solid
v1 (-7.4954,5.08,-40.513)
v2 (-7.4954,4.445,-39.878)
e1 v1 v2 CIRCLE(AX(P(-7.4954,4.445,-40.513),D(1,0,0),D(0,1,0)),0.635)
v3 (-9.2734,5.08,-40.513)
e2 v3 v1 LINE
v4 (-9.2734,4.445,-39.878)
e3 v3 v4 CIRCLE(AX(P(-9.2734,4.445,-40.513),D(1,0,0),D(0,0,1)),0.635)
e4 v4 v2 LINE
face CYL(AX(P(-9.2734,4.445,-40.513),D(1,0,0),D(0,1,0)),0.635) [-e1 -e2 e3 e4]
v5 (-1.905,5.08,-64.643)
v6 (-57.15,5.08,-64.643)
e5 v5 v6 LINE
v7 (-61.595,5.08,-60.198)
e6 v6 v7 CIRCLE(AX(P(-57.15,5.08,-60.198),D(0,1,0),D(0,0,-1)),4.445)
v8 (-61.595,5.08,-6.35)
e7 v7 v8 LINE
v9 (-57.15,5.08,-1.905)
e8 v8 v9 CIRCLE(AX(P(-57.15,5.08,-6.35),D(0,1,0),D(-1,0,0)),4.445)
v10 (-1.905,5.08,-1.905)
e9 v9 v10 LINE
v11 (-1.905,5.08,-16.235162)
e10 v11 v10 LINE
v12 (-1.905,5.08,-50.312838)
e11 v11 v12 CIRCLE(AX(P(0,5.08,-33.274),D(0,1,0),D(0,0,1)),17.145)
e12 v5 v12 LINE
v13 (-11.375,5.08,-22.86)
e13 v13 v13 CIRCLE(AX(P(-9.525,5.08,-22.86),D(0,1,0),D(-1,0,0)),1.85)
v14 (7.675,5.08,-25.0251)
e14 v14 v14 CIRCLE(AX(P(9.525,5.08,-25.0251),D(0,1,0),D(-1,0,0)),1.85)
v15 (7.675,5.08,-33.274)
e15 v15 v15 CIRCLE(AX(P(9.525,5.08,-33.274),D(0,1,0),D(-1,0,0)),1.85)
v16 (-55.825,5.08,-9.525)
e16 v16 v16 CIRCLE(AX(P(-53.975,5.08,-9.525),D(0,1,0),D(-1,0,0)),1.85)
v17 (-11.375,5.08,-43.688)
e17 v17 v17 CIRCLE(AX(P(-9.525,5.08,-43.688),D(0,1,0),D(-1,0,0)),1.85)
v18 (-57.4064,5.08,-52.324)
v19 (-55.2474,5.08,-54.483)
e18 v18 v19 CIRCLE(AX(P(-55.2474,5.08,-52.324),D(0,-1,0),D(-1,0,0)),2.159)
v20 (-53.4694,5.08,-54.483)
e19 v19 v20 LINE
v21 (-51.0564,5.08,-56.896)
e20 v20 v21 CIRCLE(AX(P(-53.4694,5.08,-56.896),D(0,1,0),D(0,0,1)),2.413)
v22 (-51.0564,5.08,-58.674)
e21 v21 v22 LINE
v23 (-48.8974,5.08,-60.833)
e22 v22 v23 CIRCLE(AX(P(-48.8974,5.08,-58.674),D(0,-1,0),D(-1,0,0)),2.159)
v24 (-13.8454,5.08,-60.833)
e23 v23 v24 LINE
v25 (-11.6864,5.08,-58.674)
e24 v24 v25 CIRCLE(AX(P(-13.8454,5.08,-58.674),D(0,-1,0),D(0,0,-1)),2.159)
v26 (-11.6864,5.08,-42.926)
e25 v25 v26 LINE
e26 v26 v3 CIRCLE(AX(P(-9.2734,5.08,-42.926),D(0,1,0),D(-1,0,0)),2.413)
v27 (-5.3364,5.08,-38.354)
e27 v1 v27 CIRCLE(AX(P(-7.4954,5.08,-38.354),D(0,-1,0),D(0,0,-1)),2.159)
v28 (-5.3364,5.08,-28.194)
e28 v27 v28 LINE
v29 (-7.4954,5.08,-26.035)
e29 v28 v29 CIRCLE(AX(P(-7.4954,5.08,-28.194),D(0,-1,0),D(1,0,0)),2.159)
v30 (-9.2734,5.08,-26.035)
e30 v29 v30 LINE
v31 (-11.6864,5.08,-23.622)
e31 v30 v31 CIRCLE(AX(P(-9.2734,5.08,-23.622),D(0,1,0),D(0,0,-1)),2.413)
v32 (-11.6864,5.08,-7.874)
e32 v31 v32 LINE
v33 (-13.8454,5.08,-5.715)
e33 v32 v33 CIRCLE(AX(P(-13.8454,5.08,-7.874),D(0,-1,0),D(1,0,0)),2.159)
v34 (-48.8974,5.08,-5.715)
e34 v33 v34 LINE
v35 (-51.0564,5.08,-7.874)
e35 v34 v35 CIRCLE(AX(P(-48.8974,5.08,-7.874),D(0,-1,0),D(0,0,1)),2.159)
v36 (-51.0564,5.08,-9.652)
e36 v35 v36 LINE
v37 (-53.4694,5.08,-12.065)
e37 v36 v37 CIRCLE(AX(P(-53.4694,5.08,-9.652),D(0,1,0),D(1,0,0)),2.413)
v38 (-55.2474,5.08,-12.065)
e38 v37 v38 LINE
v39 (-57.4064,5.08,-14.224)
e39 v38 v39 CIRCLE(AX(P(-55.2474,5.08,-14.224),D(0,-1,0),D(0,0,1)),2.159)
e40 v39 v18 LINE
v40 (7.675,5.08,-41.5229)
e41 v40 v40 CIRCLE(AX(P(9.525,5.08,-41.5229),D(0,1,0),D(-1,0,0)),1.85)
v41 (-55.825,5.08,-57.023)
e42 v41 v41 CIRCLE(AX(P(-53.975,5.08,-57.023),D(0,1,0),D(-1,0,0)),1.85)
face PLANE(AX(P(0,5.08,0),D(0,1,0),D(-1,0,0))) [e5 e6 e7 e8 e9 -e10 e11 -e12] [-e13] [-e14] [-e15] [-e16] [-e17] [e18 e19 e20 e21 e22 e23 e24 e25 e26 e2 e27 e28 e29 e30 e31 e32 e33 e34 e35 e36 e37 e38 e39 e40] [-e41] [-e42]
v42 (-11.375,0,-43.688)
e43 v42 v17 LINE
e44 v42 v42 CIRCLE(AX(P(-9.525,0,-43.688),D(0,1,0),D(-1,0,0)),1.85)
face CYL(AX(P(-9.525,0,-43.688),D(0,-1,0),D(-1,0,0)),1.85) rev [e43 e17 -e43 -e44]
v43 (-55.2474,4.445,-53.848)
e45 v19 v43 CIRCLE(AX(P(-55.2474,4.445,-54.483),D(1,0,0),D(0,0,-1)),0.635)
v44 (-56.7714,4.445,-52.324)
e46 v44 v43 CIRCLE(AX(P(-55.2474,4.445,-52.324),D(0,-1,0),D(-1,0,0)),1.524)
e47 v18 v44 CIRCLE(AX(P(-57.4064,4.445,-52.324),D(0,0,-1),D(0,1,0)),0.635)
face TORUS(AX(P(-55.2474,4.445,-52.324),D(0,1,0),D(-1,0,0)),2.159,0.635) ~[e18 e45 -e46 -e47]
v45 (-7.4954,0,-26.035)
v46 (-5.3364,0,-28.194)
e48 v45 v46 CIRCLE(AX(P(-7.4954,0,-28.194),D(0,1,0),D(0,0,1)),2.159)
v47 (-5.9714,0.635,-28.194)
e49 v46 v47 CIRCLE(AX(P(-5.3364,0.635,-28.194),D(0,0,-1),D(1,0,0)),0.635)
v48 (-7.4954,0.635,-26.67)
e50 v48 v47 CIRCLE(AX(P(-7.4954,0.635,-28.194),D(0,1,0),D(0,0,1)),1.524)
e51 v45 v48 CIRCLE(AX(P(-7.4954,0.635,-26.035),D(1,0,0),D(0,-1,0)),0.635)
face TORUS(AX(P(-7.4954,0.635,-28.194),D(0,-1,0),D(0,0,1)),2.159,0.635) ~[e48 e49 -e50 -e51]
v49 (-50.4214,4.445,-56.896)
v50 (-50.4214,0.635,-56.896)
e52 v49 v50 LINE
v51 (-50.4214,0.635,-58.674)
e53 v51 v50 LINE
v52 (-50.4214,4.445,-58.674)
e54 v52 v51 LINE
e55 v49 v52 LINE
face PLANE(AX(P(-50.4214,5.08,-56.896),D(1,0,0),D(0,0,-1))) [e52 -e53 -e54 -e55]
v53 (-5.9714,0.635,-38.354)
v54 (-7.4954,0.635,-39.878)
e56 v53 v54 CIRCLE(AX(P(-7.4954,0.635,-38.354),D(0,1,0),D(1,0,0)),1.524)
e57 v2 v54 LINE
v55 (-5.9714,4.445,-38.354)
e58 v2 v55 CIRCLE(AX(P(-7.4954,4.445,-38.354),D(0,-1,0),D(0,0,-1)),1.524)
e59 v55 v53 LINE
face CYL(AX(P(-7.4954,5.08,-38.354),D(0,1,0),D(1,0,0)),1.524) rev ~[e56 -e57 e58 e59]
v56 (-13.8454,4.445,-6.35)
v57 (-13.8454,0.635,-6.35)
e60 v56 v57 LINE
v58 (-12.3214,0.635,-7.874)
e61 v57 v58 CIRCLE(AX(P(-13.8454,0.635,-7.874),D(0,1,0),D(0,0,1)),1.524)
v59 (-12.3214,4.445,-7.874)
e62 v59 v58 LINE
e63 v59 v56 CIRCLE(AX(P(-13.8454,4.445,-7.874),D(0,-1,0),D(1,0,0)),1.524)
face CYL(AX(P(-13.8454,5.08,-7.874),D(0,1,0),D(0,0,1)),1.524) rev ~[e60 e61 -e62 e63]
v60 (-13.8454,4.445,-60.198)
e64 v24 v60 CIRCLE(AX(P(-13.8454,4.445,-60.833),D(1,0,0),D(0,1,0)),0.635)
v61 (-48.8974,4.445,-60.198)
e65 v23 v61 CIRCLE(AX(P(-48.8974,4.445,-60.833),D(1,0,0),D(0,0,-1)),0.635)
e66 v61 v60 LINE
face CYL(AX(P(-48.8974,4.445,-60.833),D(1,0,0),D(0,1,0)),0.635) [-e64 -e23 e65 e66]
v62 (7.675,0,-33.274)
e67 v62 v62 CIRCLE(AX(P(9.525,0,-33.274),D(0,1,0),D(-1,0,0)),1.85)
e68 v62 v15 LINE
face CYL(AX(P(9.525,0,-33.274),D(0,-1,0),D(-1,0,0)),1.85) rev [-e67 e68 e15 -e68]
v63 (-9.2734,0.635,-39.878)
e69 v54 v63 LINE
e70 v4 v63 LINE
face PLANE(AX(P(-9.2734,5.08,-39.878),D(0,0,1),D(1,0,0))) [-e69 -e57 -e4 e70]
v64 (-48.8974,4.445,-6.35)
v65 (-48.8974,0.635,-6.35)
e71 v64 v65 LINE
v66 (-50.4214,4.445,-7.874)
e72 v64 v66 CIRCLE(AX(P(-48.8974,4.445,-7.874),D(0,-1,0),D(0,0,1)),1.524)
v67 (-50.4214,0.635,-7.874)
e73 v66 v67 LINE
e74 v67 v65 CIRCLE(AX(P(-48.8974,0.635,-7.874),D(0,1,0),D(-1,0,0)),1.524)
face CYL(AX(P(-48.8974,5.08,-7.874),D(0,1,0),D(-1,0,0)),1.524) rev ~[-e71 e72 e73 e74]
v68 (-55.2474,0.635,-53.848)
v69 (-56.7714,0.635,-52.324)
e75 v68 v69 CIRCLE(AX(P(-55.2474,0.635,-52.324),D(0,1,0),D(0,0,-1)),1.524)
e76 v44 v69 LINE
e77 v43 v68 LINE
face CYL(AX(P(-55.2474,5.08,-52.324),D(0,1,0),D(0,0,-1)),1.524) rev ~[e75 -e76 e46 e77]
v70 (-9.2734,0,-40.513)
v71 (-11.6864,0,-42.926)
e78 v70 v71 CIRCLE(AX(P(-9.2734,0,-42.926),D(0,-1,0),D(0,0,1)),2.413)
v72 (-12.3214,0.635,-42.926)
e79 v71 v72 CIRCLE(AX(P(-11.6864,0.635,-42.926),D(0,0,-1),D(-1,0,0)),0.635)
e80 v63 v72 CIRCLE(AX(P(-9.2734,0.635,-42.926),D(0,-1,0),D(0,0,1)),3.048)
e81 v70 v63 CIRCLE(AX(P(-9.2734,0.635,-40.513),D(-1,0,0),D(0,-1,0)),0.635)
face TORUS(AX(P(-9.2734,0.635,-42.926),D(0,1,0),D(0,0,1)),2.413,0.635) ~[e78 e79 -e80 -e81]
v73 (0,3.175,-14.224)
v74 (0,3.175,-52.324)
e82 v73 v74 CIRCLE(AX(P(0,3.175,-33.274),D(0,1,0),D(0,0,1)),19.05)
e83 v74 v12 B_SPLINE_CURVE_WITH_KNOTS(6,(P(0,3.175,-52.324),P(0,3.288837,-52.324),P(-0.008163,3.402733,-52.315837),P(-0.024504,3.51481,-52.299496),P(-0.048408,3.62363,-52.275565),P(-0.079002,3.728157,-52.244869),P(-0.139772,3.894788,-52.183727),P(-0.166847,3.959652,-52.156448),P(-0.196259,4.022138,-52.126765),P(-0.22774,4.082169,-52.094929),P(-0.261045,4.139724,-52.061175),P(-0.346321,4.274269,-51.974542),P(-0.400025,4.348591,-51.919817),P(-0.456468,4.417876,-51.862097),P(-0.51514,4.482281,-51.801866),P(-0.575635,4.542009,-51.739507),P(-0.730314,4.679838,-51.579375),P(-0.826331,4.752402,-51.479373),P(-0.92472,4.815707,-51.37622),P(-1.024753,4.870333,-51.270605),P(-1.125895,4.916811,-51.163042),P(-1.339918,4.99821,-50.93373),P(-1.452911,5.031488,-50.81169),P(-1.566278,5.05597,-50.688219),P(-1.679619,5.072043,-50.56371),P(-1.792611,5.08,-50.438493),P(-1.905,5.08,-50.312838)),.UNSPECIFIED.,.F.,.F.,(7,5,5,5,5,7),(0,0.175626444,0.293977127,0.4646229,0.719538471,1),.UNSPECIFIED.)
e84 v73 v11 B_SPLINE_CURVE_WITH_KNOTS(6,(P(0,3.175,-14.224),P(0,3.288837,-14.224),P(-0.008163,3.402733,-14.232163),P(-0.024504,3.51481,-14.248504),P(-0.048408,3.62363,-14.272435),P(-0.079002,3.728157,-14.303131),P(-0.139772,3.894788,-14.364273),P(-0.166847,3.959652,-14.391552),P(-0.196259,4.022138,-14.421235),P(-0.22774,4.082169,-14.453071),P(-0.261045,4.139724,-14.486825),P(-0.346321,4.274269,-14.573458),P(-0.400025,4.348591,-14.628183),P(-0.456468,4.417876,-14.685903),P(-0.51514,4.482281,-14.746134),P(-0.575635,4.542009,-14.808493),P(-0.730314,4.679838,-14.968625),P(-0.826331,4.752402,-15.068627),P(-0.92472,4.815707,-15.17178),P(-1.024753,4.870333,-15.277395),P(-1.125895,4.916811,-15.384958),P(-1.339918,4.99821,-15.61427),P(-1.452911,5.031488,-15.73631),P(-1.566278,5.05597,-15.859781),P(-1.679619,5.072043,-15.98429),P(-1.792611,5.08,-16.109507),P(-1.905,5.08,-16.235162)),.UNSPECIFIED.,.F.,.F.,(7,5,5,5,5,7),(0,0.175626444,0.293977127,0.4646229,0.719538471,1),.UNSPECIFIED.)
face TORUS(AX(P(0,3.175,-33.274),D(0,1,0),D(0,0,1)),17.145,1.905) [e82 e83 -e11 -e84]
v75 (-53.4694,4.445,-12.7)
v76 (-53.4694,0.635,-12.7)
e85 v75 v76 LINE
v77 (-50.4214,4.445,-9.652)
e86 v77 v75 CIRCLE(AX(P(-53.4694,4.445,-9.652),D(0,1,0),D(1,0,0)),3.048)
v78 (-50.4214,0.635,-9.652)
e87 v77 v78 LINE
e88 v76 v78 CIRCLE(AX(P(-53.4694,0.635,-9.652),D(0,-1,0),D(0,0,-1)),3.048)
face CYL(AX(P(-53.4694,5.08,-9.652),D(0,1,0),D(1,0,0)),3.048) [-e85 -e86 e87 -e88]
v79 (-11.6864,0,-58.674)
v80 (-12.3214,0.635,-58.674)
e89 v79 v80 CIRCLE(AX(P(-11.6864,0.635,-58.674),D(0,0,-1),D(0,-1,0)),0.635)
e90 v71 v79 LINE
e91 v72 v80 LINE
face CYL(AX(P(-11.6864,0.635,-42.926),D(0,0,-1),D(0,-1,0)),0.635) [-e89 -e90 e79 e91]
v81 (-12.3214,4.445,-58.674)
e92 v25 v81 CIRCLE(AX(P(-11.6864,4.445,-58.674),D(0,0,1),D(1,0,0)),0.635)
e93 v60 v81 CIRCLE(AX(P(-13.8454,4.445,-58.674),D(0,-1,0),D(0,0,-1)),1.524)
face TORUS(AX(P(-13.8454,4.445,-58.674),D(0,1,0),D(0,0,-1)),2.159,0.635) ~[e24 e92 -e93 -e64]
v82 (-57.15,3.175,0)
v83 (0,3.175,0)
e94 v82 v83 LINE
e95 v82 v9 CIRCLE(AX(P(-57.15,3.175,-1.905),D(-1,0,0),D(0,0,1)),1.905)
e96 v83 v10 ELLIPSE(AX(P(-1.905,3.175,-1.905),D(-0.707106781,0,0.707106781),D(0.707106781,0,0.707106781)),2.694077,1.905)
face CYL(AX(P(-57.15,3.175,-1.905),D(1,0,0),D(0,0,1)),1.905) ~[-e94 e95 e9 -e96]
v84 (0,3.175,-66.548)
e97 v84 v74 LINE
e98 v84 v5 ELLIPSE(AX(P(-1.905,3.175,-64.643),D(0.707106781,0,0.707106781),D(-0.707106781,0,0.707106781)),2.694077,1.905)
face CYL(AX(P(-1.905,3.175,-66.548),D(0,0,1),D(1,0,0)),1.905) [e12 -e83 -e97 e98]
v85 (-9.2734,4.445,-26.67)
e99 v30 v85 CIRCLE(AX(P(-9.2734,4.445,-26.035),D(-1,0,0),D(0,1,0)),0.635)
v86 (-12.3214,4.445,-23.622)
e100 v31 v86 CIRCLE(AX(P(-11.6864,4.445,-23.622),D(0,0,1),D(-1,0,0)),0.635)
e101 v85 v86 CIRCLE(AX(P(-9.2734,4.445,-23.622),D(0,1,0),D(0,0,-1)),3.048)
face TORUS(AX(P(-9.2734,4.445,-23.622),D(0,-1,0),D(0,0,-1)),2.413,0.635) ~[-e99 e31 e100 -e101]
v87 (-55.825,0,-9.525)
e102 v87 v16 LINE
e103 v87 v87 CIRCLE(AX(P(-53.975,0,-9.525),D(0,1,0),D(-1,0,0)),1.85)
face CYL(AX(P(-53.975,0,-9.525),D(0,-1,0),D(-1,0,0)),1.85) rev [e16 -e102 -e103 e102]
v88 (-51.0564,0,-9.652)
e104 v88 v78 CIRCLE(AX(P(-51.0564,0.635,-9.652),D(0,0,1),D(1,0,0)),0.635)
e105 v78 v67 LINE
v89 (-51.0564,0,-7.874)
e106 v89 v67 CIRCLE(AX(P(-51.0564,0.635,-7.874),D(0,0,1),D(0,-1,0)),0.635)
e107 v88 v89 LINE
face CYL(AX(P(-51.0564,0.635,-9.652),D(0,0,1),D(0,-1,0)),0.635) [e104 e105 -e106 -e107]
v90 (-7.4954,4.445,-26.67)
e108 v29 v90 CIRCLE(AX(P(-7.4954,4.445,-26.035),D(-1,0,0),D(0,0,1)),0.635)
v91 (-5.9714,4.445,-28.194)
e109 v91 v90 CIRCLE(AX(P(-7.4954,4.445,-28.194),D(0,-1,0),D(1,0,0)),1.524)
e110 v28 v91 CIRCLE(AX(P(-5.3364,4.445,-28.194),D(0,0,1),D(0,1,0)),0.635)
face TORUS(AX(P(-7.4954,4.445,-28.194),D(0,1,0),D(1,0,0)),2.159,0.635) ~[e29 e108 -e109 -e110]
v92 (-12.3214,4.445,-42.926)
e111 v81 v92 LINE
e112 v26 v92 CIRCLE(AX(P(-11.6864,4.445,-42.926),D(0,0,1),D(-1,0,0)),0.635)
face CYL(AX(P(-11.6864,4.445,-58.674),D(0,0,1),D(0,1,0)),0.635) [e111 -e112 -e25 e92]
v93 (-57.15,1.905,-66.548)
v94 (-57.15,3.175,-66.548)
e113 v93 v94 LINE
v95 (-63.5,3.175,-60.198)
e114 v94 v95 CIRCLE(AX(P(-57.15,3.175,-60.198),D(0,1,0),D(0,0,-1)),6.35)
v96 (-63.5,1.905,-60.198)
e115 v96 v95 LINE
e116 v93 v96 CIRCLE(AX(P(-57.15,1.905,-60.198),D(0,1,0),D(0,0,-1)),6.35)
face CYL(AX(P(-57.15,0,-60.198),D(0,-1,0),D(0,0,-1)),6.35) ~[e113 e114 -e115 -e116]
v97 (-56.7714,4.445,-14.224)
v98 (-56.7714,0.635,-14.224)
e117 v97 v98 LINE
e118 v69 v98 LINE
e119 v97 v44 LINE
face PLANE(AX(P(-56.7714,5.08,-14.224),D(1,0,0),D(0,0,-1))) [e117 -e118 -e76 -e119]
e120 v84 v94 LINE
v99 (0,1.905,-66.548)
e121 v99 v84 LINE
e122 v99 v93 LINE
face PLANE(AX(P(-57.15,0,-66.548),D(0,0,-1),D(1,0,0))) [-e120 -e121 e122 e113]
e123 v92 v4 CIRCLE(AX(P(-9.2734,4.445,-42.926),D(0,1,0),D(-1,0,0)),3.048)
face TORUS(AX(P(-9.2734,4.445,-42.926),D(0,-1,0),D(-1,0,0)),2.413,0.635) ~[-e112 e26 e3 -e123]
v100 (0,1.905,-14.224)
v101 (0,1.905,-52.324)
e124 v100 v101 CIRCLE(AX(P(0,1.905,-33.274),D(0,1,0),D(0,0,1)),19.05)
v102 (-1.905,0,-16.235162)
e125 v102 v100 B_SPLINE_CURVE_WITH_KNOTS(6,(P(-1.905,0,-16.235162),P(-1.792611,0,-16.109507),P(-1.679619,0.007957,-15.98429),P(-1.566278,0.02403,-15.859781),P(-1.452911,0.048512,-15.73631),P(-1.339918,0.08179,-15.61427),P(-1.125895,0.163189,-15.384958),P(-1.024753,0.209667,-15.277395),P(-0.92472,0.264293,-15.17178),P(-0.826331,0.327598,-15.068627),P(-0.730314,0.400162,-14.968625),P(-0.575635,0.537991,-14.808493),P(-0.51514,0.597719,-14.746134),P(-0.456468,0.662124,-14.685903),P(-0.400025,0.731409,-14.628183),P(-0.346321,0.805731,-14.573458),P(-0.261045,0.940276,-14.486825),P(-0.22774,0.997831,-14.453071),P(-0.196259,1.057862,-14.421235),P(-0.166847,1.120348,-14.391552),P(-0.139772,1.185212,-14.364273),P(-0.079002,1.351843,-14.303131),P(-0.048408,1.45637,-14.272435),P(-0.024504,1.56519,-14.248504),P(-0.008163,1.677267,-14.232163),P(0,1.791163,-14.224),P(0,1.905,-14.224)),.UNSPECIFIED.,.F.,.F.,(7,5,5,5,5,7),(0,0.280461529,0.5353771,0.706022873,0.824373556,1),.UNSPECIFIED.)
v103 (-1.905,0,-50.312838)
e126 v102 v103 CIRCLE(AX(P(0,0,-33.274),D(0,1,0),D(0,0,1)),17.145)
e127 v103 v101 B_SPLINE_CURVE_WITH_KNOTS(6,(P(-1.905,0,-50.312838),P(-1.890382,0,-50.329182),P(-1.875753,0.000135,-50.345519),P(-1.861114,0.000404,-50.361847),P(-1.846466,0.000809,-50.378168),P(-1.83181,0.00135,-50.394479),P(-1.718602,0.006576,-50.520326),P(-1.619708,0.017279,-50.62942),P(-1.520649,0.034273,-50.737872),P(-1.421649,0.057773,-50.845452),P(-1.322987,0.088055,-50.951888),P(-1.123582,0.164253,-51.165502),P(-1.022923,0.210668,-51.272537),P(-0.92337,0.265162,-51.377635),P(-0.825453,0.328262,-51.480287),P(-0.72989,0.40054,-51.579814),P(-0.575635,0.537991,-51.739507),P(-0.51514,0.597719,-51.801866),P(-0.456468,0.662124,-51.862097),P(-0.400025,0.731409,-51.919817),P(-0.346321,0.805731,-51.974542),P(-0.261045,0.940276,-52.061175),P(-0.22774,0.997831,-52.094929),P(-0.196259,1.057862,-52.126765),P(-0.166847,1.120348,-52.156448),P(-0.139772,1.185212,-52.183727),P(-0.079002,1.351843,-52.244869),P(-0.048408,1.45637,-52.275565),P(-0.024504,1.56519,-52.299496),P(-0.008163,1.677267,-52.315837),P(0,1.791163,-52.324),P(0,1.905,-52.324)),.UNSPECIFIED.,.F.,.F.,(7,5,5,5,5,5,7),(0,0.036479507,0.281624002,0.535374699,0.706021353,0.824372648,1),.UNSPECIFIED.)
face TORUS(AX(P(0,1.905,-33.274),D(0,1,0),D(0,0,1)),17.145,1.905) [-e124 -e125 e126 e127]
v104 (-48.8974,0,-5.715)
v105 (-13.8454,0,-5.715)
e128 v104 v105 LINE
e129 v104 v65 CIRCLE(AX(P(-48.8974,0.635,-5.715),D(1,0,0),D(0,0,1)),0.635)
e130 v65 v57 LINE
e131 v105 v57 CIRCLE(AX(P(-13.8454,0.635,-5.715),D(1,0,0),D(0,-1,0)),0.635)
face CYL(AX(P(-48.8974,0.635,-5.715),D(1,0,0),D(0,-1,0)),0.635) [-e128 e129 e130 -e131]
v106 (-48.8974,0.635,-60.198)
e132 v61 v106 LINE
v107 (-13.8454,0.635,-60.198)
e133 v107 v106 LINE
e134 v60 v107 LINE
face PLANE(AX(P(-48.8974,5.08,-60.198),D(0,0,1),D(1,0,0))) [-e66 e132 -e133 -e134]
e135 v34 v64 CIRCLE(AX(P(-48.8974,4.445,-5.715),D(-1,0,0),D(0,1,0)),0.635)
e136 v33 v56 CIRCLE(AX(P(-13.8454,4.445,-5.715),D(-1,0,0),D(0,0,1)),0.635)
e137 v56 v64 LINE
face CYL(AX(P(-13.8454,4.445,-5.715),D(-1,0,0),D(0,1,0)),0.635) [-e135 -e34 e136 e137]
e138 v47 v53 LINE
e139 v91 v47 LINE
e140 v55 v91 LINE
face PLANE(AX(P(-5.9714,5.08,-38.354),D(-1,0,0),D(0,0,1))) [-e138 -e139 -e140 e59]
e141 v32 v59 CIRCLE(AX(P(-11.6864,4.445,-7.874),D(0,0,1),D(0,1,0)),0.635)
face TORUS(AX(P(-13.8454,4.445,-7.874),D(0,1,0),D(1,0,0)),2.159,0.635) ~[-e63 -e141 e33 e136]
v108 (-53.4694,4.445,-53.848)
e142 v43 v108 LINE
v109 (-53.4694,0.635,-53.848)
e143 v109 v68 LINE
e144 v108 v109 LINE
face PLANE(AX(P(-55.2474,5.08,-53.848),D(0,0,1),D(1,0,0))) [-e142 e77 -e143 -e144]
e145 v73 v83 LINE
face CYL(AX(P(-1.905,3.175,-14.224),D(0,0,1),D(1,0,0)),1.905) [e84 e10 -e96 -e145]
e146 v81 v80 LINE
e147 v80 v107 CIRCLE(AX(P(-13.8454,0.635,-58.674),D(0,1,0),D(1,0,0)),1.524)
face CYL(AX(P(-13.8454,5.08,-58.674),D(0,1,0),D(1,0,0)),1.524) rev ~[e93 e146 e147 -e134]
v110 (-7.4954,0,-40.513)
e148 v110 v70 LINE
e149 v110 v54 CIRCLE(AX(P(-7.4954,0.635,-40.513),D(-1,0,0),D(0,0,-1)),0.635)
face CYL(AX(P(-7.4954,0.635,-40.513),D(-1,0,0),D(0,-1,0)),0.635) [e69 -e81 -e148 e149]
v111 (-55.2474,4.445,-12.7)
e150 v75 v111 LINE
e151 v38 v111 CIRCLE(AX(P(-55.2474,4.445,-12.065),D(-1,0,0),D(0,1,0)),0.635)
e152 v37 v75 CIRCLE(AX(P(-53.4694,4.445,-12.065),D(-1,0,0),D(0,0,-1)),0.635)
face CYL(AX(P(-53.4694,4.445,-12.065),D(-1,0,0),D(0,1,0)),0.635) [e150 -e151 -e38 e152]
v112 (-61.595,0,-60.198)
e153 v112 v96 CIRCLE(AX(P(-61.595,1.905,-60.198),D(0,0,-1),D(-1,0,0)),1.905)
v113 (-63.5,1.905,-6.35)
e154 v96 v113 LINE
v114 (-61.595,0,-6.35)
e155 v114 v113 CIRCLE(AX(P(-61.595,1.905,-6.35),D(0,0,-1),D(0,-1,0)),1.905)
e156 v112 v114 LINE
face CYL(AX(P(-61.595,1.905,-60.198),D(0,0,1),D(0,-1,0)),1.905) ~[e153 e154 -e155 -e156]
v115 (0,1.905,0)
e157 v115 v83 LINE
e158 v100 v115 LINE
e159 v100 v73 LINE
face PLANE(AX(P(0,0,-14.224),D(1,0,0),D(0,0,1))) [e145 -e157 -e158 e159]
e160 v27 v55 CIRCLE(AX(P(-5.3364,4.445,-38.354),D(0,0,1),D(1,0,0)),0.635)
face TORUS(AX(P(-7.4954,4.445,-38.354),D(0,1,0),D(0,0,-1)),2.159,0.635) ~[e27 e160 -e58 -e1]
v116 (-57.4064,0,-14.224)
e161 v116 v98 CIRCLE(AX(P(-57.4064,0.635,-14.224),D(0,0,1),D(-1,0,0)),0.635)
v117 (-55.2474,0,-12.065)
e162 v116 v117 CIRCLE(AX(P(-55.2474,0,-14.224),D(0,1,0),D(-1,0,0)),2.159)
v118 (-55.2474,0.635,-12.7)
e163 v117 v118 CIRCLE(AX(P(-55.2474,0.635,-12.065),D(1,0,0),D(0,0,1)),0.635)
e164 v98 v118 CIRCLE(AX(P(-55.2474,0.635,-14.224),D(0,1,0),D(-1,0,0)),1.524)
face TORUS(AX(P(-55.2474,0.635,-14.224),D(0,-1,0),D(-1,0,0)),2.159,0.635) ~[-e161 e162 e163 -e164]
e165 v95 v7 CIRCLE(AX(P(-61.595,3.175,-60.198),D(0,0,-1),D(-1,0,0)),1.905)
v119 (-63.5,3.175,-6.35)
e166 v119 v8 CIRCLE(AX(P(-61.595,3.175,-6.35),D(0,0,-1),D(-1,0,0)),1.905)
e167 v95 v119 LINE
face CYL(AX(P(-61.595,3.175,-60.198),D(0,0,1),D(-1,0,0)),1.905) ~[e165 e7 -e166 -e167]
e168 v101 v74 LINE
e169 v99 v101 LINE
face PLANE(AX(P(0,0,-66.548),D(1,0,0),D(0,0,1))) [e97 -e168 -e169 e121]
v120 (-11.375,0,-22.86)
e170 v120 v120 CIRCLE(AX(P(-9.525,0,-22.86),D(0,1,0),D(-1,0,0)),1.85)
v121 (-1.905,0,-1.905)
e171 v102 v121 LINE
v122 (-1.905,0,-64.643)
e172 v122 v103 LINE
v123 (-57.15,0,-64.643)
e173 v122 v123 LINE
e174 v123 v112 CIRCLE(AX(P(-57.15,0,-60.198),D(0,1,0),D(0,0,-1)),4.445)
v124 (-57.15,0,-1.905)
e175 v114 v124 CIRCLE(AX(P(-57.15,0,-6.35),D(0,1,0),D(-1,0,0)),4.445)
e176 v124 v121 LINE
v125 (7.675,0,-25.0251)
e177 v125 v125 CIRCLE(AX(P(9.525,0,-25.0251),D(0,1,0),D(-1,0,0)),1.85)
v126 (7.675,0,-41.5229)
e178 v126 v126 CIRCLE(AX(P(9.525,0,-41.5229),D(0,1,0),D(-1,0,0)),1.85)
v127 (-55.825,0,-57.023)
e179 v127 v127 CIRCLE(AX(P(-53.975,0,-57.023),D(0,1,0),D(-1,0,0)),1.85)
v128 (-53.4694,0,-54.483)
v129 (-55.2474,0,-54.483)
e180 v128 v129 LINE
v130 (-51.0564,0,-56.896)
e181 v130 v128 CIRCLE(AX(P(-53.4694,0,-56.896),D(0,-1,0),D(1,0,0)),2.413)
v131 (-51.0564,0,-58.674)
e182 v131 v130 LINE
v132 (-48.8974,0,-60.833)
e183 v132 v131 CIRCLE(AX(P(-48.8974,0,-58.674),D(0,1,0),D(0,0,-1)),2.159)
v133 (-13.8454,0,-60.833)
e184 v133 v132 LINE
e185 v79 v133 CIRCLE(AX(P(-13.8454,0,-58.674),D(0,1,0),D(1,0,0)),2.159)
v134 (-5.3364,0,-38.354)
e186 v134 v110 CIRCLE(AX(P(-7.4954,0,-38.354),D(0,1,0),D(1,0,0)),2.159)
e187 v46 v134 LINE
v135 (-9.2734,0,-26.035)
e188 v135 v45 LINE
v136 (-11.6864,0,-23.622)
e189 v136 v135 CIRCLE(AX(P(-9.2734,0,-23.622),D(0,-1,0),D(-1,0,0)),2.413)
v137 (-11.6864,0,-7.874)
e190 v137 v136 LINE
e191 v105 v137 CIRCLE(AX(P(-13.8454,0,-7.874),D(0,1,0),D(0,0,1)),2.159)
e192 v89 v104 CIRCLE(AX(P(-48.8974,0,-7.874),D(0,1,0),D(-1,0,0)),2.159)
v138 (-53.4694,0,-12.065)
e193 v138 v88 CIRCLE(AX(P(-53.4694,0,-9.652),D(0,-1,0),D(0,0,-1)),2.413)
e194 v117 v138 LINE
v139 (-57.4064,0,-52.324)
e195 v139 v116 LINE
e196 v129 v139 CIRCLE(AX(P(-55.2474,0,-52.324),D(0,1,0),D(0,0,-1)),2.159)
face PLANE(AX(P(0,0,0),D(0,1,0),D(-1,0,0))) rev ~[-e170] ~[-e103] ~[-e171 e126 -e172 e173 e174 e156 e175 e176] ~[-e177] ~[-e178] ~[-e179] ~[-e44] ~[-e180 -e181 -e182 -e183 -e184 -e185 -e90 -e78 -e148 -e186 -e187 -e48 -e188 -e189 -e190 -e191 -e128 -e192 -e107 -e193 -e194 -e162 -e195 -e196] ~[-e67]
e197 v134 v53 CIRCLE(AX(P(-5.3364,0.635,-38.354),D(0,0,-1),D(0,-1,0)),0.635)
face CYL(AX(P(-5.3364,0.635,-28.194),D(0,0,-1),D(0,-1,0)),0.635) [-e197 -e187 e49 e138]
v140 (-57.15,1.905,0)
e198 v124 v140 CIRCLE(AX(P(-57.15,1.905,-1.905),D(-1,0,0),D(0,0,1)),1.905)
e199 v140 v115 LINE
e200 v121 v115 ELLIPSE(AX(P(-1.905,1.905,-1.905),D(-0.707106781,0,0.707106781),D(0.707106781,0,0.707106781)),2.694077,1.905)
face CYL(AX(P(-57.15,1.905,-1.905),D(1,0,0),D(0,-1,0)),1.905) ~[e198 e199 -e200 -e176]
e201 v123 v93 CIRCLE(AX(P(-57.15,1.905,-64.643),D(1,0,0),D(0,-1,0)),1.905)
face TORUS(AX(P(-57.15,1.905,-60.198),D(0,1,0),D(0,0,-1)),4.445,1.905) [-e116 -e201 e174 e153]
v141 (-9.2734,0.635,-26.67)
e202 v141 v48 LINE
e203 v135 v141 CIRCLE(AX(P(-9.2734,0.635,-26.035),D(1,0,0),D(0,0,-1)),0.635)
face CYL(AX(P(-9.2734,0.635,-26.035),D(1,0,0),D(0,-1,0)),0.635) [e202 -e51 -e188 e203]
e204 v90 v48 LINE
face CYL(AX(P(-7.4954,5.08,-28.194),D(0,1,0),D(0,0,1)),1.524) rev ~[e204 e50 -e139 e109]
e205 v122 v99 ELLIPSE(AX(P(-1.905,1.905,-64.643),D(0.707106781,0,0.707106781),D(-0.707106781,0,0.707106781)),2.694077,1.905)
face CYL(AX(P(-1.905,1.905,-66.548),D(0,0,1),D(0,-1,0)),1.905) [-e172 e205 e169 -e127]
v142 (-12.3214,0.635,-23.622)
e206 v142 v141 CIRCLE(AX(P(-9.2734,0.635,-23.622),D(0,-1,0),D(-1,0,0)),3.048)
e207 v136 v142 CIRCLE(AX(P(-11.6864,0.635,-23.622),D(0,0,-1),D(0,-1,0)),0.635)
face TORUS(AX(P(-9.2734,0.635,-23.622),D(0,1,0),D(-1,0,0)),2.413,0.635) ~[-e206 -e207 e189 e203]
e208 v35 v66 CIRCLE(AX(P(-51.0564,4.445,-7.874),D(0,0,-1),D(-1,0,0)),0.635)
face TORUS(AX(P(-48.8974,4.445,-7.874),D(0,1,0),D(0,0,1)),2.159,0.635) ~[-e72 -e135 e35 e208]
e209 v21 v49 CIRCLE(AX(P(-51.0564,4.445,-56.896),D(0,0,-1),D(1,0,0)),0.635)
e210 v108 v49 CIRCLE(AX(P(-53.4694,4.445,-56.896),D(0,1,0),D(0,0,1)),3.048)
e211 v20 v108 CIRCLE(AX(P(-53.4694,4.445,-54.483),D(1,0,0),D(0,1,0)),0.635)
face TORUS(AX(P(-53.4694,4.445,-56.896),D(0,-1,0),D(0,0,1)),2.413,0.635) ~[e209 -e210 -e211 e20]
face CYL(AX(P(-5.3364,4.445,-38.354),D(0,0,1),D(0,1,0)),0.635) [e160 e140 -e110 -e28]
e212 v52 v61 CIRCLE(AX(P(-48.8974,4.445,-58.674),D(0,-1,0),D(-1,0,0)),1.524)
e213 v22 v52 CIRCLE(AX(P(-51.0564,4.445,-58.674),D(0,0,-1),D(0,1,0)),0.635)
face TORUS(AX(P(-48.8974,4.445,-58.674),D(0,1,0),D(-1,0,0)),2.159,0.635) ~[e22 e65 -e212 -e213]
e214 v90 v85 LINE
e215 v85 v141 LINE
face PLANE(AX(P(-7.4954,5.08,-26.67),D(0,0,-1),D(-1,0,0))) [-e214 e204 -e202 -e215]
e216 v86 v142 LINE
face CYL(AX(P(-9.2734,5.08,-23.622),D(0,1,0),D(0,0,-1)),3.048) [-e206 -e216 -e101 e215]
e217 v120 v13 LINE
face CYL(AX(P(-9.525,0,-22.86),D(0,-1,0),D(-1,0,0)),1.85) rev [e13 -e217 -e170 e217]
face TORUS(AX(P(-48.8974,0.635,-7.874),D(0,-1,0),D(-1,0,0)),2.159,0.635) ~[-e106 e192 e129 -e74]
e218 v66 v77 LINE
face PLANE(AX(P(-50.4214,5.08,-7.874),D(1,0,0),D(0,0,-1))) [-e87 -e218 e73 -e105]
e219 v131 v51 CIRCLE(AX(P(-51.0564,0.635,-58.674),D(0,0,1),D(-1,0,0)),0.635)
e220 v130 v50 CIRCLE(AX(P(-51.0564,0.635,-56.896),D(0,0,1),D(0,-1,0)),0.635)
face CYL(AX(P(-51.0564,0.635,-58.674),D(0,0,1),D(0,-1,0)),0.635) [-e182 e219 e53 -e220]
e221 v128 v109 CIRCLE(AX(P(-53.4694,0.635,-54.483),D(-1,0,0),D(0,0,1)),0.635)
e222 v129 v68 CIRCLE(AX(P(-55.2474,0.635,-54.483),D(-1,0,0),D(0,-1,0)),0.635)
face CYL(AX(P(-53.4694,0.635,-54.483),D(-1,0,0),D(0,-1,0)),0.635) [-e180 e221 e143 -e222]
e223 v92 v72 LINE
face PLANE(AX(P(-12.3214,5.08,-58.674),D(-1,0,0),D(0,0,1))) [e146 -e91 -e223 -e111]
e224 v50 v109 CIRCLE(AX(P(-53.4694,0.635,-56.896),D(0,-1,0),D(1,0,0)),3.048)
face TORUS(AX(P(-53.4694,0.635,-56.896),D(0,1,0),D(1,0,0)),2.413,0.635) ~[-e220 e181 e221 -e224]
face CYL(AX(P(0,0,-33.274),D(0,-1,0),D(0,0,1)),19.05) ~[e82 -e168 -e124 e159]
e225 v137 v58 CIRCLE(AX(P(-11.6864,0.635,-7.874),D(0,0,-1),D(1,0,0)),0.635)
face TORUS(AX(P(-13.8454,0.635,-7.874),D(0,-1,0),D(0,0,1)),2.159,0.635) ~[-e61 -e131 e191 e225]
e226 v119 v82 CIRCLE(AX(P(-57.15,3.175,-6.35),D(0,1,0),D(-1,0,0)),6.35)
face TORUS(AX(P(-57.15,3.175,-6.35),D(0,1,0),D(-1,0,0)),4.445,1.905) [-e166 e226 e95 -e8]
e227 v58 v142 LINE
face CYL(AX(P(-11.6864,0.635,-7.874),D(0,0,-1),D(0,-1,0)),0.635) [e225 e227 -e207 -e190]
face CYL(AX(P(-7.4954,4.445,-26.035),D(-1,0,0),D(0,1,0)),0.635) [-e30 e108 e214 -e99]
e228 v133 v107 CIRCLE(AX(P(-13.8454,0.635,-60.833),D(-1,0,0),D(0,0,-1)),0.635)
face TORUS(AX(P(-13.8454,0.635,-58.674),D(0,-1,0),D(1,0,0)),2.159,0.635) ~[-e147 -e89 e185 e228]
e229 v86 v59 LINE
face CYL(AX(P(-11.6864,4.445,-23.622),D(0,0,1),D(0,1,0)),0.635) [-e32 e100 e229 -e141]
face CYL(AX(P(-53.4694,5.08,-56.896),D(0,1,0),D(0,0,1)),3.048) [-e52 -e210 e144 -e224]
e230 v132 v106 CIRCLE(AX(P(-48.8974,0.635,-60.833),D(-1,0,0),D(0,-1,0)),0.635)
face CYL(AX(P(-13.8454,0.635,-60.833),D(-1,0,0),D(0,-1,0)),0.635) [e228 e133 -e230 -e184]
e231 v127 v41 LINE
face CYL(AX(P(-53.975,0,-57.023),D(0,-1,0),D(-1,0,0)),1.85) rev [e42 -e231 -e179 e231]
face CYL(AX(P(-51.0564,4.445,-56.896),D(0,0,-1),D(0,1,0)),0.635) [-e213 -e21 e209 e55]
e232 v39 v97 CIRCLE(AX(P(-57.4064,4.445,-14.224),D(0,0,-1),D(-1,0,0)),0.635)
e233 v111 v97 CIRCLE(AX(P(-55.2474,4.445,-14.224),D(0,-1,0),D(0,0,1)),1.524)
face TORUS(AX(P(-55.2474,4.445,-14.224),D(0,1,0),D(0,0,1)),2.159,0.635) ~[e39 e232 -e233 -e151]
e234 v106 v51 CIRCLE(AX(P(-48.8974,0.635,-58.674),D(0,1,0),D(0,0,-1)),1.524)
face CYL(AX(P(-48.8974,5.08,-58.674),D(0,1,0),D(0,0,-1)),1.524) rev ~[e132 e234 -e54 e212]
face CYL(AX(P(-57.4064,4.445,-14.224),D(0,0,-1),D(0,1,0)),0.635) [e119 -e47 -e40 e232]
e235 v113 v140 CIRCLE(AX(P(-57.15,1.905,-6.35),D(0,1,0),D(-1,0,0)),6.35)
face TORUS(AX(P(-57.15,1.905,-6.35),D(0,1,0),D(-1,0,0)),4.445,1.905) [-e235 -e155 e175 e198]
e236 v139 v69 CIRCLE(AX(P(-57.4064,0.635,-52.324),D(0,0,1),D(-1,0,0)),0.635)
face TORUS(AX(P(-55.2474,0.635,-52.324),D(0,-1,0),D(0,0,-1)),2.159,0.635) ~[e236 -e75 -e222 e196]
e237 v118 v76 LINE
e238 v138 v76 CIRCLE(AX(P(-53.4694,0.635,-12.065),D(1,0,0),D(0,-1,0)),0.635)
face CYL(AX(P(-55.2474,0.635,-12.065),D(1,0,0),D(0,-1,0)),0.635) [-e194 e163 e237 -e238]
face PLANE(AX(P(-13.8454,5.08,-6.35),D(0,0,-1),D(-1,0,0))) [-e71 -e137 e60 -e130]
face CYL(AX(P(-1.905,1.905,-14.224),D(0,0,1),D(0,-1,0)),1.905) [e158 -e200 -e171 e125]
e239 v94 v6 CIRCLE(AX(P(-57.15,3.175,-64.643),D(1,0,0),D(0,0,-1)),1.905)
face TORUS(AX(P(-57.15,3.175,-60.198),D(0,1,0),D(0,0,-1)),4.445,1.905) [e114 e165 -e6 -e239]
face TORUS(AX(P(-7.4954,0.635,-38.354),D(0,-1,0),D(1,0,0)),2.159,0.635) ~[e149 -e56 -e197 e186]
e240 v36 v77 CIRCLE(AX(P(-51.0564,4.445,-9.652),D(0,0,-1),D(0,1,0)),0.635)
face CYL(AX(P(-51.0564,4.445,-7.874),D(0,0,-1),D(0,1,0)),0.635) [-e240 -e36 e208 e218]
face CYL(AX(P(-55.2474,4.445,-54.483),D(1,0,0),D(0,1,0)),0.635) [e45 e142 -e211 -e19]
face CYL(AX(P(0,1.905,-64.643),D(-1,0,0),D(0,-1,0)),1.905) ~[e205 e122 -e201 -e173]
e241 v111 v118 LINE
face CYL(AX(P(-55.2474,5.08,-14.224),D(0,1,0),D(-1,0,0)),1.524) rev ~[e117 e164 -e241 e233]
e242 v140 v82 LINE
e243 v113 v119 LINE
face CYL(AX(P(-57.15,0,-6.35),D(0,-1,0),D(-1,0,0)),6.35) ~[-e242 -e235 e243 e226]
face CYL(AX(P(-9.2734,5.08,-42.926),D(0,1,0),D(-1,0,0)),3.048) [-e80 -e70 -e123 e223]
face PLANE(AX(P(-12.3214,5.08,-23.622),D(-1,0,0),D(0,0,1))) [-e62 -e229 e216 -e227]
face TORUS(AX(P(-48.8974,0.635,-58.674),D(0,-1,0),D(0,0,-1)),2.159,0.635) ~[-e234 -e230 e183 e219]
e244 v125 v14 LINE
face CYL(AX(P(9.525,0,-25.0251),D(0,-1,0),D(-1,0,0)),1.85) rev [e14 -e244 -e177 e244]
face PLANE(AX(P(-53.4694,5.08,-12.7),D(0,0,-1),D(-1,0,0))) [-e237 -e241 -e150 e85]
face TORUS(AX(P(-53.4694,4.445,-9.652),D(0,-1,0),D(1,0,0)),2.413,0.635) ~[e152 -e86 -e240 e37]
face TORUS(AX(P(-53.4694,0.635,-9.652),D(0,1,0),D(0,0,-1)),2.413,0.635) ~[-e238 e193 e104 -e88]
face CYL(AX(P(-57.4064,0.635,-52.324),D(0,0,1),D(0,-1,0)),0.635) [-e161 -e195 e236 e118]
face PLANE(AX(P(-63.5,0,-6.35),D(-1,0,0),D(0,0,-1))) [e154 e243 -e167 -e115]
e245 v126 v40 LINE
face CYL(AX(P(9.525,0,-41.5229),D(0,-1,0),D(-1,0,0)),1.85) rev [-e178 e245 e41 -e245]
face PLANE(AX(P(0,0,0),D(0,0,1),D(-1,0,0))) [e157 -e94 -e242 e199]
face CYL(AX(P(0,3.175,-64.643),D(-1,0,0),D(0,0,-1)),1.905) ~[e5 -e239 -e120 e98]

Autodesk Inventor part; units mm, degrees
ref_plane "YZ Plane" through (0, 0, 0) normal (1, 0, 0) x (0, 1, 0)
sketch "Sketch1" plane through (0, 0, 0) normal (0, 1, 0) x (-1, 0, 0)
  line L0 (0, 0) -> (57.15, 0)
  line L1 (63.5, -6.35) -> (63.5, -60.198)
  line L2 (57.15, -66.548) -> (0, -66.548)
  line L3 (12.7, -6.35) -> (50.8, -6.35)
  line L4 (12.7, -6.35) -> (50.8, -6.35) construction
  line L5 (57.15, -12.7) -> (57.15, -53.848)
  line L6 (50.8, -60.198) -> (12.7, -60.198)
  line L7 (12.7, -19.05) -> (12.7, -6.35)
  line L8 (12.7, -47.498) -> (12.7, -60.198)
  line L9 (50.8, -6.35) -> (50.8, -9.652)
  line L10 (53.848, -12.7) -> (57.15, -12.7)
  line L11 (50.8, -60.198) -> (50.8, -56.896)
  line L12 (53.848, -53.848) -> (57.15, -53.848)
  line L13 (12.7, -19.05) -> (12.7, -23.622)
  line L14 (9.652, -26.67) -> (6.35, -26.67)
  line L15 (12.7, -47.498) -> (12.7, -42.926)
  line L16 (9.652, -39.878) -> (6.35, -39.878)
  line L17 (6.35, -39.878) -> (6.35, -26.67)
  arc A0 (50.8, -9.652) -> (53.848, -12.7) centre (53.848, -9.652) ccw
  arc A1 (53.848, -53.848) -> (50.8, -56.896) centre (53.848, -56.896) ccw
  arc A2 (9.652, -26.67) -> (12.7, -23.622) centre (9.652, -23.622) ccw
  arc A3 (12.7, -42.926) -> (9.652, -39.878) centre (9.652, -42.926) ccw
  arc A4 (57.15, -66.548) -> (63.5, -60.198) centre (57.15, -60.198) ccw
  arc A5 (63.5, -6.35) -> (57.15, 0) centre (57.15, -6.35) ccw
  circle A6 centre (9.525, -43.688) radius 1.85
  circle A7 centre (9.525, -22.86) radius 1.85
  circle A8 centre (53.975, -57.023) radius 1.85
  circle A9 centre (53.975, -9.525) radius 1.85
  arc A10 (0, -14.224) -> (0, -52.324) centre (0, -33.274) ccw
  circle A11 centre (-9.525, -41.5229) radius 1.85
  circle A12 centre (-9.525, -33.274) radius 1.85
  circle A13 centre (-9.525, -25.0251) radius 1.85
  line L18 (0, -66.548) -> (0, -52.324)
  line L19 (0, -14.224) -> (0, 0)
  point P0 (63.5, -66.548)
  point P1 (63.5, 0)
  dimension "d0" = 63.5
  dimension "d1" = 66.548
  dimension "d35" = 41.148
  dimension "d36" = 38.1
  dimension "d37" = 13.208
  dimension "d38" = 50.8
  dimension "d39" = 53.848
  dimension "d40" = 3.048
  dimension "d41" = 6.35
  dimension "d81" = 3.7
  dimension "d82" = 3.7
  dimension "d83" = 3.7
  dimension "d84" = 3.7
  dimension "d90" = 3.7
  dimension "d91" = 3.7
  dimension "d92" = 3.7
ref_plane "Work Plane2" through (0, 5.08, 0) normal (0, 1, 0) x (1, 0, 0)
sketch "Sketch2" plane through (0, 5.08, 0) normal (0, 1, 0) x (1, 0, 0)
  line L0 (-53.4694, 12.7) -> (-55.2474, 12.7)
  line L1 (-50.4214, 12.7) -> (-48.6434, 12.7) construction
  line L2 (-56.7714, 14.224) -> (-56.7714, 52.324)
  line L3 (-55.2474, 53.848) -> (-53.4694, 53.848)
  line L4 (-50.4214, 56.896) -> (-50.4214, 58.674)
  line L5 (-48.8974, 60.198) -> (-13.8454, 60.198)
  line L6 (-12.3214, 58.674) -> (-12.3214, 42.926)
  line L7 (-9.2734, 39.878) -> (-7.4954, 39.878)
  line L8 (-5.9714, 38.354) -> (-5.9714, 28.194)
  line L9 (-7.4954, 26.67) -> (-9.2734, 26.67)
  line L10 (-12.3214, 23.622) -> (-12.3214, 7.874)
  line L11 (-12.3214, 26.67) -> (3.4266, 26.67) construction
  line L12 (-13.8454, 6.35) -> (-48.8974, 6.35)
  line L13 (-50.4214, 7.874) -> (-50.4214, 9.652)
  arc A0 (-50.4214, 9.652) -> (-53.4694, 12.7) centre (-53.4694, 9.652) ccw
  arc A1 (-53.4694, 53.848) -> (-50.4214, 56.896) centre (-53.4694, 56.896) ccw
  arc A2 (-9.2734, 26.67) -> (-12.3214, 23.622) centre (-9.2734, 23.622) ccw
  arc A3 (-12.3214, 42.926) -> (-9.2734, 39.878) centre (-9.2734, 42.926) ccw
  arc A4 (-50.4214, 7.874) -> (-48.8974, 6.35) centre (-48.8974, 7.874) ccw
  arc A5 (-13.8454, 6.35) -> (-12.3214, 7.874) centre (-13.8454, 7.874) ccw
  arc A6 (-12.3214, 58.674) -> (-13.8454, 60.198) centre (-13.8454, 58.674) ccw
  arc A7 (-48.8974, 60.198) -> (-50.4214, 58.674) centre (-48.8974, 58.674) ccw
  arc A8 (-55.2474, 53.848) -> (-56.7714, 52.324) centre (-55.2474, 52.324) ccw
  arc A9 (-56.7714, 14.224) -> (-55.2474, 12.7) centre (-55.2474, 14.224) ccw
  arc A10 (-7.4954, 26.67) -> (-5.9714, 28.194) centre (-7.4954, 28.194) ccw
  arc A11 (-5.9714, 38.354) -> (-7.4954, 39.878) centre (-7.4954, 38.354) ccw
  point P0 (0, 0)
  point P1 (-56.7714, 12.7)
  point P2 (-56.7714, 53.848)
  point P3 (-50.4214, 53.848)
  point P4 (-50.4214, 60.198)
  point P5 (-12.3214, 60.198)
  point P6 (-12.3214, 39.878)
  point P7 (-5.9714, 39.878)
  point P8 (-5.9714, 26.67)
  point P9 (-12.3214, 6.35)
  point P10 (-50.4214, 6.35)
  dimension "d44" = 6.35
  dimension "d45" = 180
  dimension "d46" = 41.148
  dimension "d47" = 90
  dimension "d48" = 6.35
  dimension "d49" = 90
  dimension "d50" = 6.35
  dimension "d51" = 90
  dimension "d52" = 38.1
  dimension "d53" = 90
  dimension "d54" = 20.32
  dimension "d55" = 90
  dimension "d56" = 6.35
  dimension "d57" = 90
  dimension "d58" = 13.208
  dimension "d59" = 90
  dimension "d60" = 6.35
  dimension "d61" = 90
  dimension "d62" = 20.32
  dimension "d63" = 90
  dimension "d64" = 38.1
  dimension "d65" = 90
  dimension "d66" = 3.048
  dimension "d67" = 1.524
ref_plane "Work Plane1" through (0, 0, 0) normal (1, 0, 0) x (0, 0, -1)
extrude "Extrusion6" add sketch "Sketch1" along normal blind 5.08 contours L0 A5 L1 A4 L2 L18 A10 L19 | L3 L9 A0 L10 L5 L12 A1 L11 L6 L8 L15 A3 L16 L17 L14 A2 L13 L7
extrude "Extrusion7" cut sketch "Sketch2" against normal blind 5.08
fillet "Fillet2" radius 0.635 48 edges at (-11.4287, 5.08, -40.7707) (-8.3844, 5.08, -39.878) (-6.4178, 5.08, -39.4316) (-5.9714, 5.08, -33.274) (-6.4178, 5.08, -27.1164) (-8.3844, 5.08, -26.67) (-11.4287, 5.08, -25.7773) (-12.3214, 5.08, -15.748) (-12.7678, 5.08, -6.7964) (-31.3714, 5.08, -6.35) (-49.975, 5.08, -6.7964) (-50.4214, 5.08, -8.763) (-51.3141, 5.08, -11.8073) (-54.3584, 5.08, -12.7) (-56.325, 5.08, -13.1464) (-56.7714, 5.08, -33.274) (-56.325, 5.08, -53.4016) (-54.3584, 5.08, -53.848) (-51.3141, 5.08, -54.7407) (-50.4214, 5.08, -57.785) (-49.975, 5.08, -59.7516) (-31.3714, 5.08, -60.198) (-12.7678, 5.08, -59.7516) (-12.3214, 5.08, -50.8) (-56.325, 0, -13.1464) (-54.3584, 0, -12.7) (-51.3141, 0, -11.8073) (-50.4214, 0, -8.763) (-49.975, 0, -6.7964) (-31.3714, 0, -6.35) (-12.7678, 0, -6.7964) (-12.3214, 0, -15.748) (-11.4287, 0, -25.7773) (-8.3844, 0, -26.67) (-6.4178, 0, -27.1164) (-5.9714, 0, -33.274) (-6.4178, 0, -39.4316) (-8.3844, 0, -39.878) (-11.4287, 0, -40.7707) (-12.3214, 0, -50.8) (-12.7678, 0, -59.7516) (-31.3714, 0, -60.198) (-49.975, 0, -59.7516) (-50.4214, 0, -57.785) (-51.3141, 0, -54.7407) (-54.3584, 0, -53.848) (-56.325, 0, -53.4016) (-56.7714, 0, -33.274)
fillet "Fillet3" radius 1.905 16 edges at (19.05, 5.08, -33.274) (0, 5.08, -59.436) (0, 5.08, -7.112) (-61.6401, 5.08, -1.8599) (-63.5, 5.08, -33.274) (-61.6401, 5.08, -64.6881) (-28.575, 5.08, -66.548) (-28.575, 5.08, 0) (-61.6401, 0, -64.6881) (-28.575, 0, -66.548) (-61.6401, 0, -1.8599) (-28.575, 0, 0) (-63.5, 0, -33.274) (0, 0, -59.436) (19.05, 0, -33.274) (0, 0, -7.112)
properties part number "PixyCamMount"
